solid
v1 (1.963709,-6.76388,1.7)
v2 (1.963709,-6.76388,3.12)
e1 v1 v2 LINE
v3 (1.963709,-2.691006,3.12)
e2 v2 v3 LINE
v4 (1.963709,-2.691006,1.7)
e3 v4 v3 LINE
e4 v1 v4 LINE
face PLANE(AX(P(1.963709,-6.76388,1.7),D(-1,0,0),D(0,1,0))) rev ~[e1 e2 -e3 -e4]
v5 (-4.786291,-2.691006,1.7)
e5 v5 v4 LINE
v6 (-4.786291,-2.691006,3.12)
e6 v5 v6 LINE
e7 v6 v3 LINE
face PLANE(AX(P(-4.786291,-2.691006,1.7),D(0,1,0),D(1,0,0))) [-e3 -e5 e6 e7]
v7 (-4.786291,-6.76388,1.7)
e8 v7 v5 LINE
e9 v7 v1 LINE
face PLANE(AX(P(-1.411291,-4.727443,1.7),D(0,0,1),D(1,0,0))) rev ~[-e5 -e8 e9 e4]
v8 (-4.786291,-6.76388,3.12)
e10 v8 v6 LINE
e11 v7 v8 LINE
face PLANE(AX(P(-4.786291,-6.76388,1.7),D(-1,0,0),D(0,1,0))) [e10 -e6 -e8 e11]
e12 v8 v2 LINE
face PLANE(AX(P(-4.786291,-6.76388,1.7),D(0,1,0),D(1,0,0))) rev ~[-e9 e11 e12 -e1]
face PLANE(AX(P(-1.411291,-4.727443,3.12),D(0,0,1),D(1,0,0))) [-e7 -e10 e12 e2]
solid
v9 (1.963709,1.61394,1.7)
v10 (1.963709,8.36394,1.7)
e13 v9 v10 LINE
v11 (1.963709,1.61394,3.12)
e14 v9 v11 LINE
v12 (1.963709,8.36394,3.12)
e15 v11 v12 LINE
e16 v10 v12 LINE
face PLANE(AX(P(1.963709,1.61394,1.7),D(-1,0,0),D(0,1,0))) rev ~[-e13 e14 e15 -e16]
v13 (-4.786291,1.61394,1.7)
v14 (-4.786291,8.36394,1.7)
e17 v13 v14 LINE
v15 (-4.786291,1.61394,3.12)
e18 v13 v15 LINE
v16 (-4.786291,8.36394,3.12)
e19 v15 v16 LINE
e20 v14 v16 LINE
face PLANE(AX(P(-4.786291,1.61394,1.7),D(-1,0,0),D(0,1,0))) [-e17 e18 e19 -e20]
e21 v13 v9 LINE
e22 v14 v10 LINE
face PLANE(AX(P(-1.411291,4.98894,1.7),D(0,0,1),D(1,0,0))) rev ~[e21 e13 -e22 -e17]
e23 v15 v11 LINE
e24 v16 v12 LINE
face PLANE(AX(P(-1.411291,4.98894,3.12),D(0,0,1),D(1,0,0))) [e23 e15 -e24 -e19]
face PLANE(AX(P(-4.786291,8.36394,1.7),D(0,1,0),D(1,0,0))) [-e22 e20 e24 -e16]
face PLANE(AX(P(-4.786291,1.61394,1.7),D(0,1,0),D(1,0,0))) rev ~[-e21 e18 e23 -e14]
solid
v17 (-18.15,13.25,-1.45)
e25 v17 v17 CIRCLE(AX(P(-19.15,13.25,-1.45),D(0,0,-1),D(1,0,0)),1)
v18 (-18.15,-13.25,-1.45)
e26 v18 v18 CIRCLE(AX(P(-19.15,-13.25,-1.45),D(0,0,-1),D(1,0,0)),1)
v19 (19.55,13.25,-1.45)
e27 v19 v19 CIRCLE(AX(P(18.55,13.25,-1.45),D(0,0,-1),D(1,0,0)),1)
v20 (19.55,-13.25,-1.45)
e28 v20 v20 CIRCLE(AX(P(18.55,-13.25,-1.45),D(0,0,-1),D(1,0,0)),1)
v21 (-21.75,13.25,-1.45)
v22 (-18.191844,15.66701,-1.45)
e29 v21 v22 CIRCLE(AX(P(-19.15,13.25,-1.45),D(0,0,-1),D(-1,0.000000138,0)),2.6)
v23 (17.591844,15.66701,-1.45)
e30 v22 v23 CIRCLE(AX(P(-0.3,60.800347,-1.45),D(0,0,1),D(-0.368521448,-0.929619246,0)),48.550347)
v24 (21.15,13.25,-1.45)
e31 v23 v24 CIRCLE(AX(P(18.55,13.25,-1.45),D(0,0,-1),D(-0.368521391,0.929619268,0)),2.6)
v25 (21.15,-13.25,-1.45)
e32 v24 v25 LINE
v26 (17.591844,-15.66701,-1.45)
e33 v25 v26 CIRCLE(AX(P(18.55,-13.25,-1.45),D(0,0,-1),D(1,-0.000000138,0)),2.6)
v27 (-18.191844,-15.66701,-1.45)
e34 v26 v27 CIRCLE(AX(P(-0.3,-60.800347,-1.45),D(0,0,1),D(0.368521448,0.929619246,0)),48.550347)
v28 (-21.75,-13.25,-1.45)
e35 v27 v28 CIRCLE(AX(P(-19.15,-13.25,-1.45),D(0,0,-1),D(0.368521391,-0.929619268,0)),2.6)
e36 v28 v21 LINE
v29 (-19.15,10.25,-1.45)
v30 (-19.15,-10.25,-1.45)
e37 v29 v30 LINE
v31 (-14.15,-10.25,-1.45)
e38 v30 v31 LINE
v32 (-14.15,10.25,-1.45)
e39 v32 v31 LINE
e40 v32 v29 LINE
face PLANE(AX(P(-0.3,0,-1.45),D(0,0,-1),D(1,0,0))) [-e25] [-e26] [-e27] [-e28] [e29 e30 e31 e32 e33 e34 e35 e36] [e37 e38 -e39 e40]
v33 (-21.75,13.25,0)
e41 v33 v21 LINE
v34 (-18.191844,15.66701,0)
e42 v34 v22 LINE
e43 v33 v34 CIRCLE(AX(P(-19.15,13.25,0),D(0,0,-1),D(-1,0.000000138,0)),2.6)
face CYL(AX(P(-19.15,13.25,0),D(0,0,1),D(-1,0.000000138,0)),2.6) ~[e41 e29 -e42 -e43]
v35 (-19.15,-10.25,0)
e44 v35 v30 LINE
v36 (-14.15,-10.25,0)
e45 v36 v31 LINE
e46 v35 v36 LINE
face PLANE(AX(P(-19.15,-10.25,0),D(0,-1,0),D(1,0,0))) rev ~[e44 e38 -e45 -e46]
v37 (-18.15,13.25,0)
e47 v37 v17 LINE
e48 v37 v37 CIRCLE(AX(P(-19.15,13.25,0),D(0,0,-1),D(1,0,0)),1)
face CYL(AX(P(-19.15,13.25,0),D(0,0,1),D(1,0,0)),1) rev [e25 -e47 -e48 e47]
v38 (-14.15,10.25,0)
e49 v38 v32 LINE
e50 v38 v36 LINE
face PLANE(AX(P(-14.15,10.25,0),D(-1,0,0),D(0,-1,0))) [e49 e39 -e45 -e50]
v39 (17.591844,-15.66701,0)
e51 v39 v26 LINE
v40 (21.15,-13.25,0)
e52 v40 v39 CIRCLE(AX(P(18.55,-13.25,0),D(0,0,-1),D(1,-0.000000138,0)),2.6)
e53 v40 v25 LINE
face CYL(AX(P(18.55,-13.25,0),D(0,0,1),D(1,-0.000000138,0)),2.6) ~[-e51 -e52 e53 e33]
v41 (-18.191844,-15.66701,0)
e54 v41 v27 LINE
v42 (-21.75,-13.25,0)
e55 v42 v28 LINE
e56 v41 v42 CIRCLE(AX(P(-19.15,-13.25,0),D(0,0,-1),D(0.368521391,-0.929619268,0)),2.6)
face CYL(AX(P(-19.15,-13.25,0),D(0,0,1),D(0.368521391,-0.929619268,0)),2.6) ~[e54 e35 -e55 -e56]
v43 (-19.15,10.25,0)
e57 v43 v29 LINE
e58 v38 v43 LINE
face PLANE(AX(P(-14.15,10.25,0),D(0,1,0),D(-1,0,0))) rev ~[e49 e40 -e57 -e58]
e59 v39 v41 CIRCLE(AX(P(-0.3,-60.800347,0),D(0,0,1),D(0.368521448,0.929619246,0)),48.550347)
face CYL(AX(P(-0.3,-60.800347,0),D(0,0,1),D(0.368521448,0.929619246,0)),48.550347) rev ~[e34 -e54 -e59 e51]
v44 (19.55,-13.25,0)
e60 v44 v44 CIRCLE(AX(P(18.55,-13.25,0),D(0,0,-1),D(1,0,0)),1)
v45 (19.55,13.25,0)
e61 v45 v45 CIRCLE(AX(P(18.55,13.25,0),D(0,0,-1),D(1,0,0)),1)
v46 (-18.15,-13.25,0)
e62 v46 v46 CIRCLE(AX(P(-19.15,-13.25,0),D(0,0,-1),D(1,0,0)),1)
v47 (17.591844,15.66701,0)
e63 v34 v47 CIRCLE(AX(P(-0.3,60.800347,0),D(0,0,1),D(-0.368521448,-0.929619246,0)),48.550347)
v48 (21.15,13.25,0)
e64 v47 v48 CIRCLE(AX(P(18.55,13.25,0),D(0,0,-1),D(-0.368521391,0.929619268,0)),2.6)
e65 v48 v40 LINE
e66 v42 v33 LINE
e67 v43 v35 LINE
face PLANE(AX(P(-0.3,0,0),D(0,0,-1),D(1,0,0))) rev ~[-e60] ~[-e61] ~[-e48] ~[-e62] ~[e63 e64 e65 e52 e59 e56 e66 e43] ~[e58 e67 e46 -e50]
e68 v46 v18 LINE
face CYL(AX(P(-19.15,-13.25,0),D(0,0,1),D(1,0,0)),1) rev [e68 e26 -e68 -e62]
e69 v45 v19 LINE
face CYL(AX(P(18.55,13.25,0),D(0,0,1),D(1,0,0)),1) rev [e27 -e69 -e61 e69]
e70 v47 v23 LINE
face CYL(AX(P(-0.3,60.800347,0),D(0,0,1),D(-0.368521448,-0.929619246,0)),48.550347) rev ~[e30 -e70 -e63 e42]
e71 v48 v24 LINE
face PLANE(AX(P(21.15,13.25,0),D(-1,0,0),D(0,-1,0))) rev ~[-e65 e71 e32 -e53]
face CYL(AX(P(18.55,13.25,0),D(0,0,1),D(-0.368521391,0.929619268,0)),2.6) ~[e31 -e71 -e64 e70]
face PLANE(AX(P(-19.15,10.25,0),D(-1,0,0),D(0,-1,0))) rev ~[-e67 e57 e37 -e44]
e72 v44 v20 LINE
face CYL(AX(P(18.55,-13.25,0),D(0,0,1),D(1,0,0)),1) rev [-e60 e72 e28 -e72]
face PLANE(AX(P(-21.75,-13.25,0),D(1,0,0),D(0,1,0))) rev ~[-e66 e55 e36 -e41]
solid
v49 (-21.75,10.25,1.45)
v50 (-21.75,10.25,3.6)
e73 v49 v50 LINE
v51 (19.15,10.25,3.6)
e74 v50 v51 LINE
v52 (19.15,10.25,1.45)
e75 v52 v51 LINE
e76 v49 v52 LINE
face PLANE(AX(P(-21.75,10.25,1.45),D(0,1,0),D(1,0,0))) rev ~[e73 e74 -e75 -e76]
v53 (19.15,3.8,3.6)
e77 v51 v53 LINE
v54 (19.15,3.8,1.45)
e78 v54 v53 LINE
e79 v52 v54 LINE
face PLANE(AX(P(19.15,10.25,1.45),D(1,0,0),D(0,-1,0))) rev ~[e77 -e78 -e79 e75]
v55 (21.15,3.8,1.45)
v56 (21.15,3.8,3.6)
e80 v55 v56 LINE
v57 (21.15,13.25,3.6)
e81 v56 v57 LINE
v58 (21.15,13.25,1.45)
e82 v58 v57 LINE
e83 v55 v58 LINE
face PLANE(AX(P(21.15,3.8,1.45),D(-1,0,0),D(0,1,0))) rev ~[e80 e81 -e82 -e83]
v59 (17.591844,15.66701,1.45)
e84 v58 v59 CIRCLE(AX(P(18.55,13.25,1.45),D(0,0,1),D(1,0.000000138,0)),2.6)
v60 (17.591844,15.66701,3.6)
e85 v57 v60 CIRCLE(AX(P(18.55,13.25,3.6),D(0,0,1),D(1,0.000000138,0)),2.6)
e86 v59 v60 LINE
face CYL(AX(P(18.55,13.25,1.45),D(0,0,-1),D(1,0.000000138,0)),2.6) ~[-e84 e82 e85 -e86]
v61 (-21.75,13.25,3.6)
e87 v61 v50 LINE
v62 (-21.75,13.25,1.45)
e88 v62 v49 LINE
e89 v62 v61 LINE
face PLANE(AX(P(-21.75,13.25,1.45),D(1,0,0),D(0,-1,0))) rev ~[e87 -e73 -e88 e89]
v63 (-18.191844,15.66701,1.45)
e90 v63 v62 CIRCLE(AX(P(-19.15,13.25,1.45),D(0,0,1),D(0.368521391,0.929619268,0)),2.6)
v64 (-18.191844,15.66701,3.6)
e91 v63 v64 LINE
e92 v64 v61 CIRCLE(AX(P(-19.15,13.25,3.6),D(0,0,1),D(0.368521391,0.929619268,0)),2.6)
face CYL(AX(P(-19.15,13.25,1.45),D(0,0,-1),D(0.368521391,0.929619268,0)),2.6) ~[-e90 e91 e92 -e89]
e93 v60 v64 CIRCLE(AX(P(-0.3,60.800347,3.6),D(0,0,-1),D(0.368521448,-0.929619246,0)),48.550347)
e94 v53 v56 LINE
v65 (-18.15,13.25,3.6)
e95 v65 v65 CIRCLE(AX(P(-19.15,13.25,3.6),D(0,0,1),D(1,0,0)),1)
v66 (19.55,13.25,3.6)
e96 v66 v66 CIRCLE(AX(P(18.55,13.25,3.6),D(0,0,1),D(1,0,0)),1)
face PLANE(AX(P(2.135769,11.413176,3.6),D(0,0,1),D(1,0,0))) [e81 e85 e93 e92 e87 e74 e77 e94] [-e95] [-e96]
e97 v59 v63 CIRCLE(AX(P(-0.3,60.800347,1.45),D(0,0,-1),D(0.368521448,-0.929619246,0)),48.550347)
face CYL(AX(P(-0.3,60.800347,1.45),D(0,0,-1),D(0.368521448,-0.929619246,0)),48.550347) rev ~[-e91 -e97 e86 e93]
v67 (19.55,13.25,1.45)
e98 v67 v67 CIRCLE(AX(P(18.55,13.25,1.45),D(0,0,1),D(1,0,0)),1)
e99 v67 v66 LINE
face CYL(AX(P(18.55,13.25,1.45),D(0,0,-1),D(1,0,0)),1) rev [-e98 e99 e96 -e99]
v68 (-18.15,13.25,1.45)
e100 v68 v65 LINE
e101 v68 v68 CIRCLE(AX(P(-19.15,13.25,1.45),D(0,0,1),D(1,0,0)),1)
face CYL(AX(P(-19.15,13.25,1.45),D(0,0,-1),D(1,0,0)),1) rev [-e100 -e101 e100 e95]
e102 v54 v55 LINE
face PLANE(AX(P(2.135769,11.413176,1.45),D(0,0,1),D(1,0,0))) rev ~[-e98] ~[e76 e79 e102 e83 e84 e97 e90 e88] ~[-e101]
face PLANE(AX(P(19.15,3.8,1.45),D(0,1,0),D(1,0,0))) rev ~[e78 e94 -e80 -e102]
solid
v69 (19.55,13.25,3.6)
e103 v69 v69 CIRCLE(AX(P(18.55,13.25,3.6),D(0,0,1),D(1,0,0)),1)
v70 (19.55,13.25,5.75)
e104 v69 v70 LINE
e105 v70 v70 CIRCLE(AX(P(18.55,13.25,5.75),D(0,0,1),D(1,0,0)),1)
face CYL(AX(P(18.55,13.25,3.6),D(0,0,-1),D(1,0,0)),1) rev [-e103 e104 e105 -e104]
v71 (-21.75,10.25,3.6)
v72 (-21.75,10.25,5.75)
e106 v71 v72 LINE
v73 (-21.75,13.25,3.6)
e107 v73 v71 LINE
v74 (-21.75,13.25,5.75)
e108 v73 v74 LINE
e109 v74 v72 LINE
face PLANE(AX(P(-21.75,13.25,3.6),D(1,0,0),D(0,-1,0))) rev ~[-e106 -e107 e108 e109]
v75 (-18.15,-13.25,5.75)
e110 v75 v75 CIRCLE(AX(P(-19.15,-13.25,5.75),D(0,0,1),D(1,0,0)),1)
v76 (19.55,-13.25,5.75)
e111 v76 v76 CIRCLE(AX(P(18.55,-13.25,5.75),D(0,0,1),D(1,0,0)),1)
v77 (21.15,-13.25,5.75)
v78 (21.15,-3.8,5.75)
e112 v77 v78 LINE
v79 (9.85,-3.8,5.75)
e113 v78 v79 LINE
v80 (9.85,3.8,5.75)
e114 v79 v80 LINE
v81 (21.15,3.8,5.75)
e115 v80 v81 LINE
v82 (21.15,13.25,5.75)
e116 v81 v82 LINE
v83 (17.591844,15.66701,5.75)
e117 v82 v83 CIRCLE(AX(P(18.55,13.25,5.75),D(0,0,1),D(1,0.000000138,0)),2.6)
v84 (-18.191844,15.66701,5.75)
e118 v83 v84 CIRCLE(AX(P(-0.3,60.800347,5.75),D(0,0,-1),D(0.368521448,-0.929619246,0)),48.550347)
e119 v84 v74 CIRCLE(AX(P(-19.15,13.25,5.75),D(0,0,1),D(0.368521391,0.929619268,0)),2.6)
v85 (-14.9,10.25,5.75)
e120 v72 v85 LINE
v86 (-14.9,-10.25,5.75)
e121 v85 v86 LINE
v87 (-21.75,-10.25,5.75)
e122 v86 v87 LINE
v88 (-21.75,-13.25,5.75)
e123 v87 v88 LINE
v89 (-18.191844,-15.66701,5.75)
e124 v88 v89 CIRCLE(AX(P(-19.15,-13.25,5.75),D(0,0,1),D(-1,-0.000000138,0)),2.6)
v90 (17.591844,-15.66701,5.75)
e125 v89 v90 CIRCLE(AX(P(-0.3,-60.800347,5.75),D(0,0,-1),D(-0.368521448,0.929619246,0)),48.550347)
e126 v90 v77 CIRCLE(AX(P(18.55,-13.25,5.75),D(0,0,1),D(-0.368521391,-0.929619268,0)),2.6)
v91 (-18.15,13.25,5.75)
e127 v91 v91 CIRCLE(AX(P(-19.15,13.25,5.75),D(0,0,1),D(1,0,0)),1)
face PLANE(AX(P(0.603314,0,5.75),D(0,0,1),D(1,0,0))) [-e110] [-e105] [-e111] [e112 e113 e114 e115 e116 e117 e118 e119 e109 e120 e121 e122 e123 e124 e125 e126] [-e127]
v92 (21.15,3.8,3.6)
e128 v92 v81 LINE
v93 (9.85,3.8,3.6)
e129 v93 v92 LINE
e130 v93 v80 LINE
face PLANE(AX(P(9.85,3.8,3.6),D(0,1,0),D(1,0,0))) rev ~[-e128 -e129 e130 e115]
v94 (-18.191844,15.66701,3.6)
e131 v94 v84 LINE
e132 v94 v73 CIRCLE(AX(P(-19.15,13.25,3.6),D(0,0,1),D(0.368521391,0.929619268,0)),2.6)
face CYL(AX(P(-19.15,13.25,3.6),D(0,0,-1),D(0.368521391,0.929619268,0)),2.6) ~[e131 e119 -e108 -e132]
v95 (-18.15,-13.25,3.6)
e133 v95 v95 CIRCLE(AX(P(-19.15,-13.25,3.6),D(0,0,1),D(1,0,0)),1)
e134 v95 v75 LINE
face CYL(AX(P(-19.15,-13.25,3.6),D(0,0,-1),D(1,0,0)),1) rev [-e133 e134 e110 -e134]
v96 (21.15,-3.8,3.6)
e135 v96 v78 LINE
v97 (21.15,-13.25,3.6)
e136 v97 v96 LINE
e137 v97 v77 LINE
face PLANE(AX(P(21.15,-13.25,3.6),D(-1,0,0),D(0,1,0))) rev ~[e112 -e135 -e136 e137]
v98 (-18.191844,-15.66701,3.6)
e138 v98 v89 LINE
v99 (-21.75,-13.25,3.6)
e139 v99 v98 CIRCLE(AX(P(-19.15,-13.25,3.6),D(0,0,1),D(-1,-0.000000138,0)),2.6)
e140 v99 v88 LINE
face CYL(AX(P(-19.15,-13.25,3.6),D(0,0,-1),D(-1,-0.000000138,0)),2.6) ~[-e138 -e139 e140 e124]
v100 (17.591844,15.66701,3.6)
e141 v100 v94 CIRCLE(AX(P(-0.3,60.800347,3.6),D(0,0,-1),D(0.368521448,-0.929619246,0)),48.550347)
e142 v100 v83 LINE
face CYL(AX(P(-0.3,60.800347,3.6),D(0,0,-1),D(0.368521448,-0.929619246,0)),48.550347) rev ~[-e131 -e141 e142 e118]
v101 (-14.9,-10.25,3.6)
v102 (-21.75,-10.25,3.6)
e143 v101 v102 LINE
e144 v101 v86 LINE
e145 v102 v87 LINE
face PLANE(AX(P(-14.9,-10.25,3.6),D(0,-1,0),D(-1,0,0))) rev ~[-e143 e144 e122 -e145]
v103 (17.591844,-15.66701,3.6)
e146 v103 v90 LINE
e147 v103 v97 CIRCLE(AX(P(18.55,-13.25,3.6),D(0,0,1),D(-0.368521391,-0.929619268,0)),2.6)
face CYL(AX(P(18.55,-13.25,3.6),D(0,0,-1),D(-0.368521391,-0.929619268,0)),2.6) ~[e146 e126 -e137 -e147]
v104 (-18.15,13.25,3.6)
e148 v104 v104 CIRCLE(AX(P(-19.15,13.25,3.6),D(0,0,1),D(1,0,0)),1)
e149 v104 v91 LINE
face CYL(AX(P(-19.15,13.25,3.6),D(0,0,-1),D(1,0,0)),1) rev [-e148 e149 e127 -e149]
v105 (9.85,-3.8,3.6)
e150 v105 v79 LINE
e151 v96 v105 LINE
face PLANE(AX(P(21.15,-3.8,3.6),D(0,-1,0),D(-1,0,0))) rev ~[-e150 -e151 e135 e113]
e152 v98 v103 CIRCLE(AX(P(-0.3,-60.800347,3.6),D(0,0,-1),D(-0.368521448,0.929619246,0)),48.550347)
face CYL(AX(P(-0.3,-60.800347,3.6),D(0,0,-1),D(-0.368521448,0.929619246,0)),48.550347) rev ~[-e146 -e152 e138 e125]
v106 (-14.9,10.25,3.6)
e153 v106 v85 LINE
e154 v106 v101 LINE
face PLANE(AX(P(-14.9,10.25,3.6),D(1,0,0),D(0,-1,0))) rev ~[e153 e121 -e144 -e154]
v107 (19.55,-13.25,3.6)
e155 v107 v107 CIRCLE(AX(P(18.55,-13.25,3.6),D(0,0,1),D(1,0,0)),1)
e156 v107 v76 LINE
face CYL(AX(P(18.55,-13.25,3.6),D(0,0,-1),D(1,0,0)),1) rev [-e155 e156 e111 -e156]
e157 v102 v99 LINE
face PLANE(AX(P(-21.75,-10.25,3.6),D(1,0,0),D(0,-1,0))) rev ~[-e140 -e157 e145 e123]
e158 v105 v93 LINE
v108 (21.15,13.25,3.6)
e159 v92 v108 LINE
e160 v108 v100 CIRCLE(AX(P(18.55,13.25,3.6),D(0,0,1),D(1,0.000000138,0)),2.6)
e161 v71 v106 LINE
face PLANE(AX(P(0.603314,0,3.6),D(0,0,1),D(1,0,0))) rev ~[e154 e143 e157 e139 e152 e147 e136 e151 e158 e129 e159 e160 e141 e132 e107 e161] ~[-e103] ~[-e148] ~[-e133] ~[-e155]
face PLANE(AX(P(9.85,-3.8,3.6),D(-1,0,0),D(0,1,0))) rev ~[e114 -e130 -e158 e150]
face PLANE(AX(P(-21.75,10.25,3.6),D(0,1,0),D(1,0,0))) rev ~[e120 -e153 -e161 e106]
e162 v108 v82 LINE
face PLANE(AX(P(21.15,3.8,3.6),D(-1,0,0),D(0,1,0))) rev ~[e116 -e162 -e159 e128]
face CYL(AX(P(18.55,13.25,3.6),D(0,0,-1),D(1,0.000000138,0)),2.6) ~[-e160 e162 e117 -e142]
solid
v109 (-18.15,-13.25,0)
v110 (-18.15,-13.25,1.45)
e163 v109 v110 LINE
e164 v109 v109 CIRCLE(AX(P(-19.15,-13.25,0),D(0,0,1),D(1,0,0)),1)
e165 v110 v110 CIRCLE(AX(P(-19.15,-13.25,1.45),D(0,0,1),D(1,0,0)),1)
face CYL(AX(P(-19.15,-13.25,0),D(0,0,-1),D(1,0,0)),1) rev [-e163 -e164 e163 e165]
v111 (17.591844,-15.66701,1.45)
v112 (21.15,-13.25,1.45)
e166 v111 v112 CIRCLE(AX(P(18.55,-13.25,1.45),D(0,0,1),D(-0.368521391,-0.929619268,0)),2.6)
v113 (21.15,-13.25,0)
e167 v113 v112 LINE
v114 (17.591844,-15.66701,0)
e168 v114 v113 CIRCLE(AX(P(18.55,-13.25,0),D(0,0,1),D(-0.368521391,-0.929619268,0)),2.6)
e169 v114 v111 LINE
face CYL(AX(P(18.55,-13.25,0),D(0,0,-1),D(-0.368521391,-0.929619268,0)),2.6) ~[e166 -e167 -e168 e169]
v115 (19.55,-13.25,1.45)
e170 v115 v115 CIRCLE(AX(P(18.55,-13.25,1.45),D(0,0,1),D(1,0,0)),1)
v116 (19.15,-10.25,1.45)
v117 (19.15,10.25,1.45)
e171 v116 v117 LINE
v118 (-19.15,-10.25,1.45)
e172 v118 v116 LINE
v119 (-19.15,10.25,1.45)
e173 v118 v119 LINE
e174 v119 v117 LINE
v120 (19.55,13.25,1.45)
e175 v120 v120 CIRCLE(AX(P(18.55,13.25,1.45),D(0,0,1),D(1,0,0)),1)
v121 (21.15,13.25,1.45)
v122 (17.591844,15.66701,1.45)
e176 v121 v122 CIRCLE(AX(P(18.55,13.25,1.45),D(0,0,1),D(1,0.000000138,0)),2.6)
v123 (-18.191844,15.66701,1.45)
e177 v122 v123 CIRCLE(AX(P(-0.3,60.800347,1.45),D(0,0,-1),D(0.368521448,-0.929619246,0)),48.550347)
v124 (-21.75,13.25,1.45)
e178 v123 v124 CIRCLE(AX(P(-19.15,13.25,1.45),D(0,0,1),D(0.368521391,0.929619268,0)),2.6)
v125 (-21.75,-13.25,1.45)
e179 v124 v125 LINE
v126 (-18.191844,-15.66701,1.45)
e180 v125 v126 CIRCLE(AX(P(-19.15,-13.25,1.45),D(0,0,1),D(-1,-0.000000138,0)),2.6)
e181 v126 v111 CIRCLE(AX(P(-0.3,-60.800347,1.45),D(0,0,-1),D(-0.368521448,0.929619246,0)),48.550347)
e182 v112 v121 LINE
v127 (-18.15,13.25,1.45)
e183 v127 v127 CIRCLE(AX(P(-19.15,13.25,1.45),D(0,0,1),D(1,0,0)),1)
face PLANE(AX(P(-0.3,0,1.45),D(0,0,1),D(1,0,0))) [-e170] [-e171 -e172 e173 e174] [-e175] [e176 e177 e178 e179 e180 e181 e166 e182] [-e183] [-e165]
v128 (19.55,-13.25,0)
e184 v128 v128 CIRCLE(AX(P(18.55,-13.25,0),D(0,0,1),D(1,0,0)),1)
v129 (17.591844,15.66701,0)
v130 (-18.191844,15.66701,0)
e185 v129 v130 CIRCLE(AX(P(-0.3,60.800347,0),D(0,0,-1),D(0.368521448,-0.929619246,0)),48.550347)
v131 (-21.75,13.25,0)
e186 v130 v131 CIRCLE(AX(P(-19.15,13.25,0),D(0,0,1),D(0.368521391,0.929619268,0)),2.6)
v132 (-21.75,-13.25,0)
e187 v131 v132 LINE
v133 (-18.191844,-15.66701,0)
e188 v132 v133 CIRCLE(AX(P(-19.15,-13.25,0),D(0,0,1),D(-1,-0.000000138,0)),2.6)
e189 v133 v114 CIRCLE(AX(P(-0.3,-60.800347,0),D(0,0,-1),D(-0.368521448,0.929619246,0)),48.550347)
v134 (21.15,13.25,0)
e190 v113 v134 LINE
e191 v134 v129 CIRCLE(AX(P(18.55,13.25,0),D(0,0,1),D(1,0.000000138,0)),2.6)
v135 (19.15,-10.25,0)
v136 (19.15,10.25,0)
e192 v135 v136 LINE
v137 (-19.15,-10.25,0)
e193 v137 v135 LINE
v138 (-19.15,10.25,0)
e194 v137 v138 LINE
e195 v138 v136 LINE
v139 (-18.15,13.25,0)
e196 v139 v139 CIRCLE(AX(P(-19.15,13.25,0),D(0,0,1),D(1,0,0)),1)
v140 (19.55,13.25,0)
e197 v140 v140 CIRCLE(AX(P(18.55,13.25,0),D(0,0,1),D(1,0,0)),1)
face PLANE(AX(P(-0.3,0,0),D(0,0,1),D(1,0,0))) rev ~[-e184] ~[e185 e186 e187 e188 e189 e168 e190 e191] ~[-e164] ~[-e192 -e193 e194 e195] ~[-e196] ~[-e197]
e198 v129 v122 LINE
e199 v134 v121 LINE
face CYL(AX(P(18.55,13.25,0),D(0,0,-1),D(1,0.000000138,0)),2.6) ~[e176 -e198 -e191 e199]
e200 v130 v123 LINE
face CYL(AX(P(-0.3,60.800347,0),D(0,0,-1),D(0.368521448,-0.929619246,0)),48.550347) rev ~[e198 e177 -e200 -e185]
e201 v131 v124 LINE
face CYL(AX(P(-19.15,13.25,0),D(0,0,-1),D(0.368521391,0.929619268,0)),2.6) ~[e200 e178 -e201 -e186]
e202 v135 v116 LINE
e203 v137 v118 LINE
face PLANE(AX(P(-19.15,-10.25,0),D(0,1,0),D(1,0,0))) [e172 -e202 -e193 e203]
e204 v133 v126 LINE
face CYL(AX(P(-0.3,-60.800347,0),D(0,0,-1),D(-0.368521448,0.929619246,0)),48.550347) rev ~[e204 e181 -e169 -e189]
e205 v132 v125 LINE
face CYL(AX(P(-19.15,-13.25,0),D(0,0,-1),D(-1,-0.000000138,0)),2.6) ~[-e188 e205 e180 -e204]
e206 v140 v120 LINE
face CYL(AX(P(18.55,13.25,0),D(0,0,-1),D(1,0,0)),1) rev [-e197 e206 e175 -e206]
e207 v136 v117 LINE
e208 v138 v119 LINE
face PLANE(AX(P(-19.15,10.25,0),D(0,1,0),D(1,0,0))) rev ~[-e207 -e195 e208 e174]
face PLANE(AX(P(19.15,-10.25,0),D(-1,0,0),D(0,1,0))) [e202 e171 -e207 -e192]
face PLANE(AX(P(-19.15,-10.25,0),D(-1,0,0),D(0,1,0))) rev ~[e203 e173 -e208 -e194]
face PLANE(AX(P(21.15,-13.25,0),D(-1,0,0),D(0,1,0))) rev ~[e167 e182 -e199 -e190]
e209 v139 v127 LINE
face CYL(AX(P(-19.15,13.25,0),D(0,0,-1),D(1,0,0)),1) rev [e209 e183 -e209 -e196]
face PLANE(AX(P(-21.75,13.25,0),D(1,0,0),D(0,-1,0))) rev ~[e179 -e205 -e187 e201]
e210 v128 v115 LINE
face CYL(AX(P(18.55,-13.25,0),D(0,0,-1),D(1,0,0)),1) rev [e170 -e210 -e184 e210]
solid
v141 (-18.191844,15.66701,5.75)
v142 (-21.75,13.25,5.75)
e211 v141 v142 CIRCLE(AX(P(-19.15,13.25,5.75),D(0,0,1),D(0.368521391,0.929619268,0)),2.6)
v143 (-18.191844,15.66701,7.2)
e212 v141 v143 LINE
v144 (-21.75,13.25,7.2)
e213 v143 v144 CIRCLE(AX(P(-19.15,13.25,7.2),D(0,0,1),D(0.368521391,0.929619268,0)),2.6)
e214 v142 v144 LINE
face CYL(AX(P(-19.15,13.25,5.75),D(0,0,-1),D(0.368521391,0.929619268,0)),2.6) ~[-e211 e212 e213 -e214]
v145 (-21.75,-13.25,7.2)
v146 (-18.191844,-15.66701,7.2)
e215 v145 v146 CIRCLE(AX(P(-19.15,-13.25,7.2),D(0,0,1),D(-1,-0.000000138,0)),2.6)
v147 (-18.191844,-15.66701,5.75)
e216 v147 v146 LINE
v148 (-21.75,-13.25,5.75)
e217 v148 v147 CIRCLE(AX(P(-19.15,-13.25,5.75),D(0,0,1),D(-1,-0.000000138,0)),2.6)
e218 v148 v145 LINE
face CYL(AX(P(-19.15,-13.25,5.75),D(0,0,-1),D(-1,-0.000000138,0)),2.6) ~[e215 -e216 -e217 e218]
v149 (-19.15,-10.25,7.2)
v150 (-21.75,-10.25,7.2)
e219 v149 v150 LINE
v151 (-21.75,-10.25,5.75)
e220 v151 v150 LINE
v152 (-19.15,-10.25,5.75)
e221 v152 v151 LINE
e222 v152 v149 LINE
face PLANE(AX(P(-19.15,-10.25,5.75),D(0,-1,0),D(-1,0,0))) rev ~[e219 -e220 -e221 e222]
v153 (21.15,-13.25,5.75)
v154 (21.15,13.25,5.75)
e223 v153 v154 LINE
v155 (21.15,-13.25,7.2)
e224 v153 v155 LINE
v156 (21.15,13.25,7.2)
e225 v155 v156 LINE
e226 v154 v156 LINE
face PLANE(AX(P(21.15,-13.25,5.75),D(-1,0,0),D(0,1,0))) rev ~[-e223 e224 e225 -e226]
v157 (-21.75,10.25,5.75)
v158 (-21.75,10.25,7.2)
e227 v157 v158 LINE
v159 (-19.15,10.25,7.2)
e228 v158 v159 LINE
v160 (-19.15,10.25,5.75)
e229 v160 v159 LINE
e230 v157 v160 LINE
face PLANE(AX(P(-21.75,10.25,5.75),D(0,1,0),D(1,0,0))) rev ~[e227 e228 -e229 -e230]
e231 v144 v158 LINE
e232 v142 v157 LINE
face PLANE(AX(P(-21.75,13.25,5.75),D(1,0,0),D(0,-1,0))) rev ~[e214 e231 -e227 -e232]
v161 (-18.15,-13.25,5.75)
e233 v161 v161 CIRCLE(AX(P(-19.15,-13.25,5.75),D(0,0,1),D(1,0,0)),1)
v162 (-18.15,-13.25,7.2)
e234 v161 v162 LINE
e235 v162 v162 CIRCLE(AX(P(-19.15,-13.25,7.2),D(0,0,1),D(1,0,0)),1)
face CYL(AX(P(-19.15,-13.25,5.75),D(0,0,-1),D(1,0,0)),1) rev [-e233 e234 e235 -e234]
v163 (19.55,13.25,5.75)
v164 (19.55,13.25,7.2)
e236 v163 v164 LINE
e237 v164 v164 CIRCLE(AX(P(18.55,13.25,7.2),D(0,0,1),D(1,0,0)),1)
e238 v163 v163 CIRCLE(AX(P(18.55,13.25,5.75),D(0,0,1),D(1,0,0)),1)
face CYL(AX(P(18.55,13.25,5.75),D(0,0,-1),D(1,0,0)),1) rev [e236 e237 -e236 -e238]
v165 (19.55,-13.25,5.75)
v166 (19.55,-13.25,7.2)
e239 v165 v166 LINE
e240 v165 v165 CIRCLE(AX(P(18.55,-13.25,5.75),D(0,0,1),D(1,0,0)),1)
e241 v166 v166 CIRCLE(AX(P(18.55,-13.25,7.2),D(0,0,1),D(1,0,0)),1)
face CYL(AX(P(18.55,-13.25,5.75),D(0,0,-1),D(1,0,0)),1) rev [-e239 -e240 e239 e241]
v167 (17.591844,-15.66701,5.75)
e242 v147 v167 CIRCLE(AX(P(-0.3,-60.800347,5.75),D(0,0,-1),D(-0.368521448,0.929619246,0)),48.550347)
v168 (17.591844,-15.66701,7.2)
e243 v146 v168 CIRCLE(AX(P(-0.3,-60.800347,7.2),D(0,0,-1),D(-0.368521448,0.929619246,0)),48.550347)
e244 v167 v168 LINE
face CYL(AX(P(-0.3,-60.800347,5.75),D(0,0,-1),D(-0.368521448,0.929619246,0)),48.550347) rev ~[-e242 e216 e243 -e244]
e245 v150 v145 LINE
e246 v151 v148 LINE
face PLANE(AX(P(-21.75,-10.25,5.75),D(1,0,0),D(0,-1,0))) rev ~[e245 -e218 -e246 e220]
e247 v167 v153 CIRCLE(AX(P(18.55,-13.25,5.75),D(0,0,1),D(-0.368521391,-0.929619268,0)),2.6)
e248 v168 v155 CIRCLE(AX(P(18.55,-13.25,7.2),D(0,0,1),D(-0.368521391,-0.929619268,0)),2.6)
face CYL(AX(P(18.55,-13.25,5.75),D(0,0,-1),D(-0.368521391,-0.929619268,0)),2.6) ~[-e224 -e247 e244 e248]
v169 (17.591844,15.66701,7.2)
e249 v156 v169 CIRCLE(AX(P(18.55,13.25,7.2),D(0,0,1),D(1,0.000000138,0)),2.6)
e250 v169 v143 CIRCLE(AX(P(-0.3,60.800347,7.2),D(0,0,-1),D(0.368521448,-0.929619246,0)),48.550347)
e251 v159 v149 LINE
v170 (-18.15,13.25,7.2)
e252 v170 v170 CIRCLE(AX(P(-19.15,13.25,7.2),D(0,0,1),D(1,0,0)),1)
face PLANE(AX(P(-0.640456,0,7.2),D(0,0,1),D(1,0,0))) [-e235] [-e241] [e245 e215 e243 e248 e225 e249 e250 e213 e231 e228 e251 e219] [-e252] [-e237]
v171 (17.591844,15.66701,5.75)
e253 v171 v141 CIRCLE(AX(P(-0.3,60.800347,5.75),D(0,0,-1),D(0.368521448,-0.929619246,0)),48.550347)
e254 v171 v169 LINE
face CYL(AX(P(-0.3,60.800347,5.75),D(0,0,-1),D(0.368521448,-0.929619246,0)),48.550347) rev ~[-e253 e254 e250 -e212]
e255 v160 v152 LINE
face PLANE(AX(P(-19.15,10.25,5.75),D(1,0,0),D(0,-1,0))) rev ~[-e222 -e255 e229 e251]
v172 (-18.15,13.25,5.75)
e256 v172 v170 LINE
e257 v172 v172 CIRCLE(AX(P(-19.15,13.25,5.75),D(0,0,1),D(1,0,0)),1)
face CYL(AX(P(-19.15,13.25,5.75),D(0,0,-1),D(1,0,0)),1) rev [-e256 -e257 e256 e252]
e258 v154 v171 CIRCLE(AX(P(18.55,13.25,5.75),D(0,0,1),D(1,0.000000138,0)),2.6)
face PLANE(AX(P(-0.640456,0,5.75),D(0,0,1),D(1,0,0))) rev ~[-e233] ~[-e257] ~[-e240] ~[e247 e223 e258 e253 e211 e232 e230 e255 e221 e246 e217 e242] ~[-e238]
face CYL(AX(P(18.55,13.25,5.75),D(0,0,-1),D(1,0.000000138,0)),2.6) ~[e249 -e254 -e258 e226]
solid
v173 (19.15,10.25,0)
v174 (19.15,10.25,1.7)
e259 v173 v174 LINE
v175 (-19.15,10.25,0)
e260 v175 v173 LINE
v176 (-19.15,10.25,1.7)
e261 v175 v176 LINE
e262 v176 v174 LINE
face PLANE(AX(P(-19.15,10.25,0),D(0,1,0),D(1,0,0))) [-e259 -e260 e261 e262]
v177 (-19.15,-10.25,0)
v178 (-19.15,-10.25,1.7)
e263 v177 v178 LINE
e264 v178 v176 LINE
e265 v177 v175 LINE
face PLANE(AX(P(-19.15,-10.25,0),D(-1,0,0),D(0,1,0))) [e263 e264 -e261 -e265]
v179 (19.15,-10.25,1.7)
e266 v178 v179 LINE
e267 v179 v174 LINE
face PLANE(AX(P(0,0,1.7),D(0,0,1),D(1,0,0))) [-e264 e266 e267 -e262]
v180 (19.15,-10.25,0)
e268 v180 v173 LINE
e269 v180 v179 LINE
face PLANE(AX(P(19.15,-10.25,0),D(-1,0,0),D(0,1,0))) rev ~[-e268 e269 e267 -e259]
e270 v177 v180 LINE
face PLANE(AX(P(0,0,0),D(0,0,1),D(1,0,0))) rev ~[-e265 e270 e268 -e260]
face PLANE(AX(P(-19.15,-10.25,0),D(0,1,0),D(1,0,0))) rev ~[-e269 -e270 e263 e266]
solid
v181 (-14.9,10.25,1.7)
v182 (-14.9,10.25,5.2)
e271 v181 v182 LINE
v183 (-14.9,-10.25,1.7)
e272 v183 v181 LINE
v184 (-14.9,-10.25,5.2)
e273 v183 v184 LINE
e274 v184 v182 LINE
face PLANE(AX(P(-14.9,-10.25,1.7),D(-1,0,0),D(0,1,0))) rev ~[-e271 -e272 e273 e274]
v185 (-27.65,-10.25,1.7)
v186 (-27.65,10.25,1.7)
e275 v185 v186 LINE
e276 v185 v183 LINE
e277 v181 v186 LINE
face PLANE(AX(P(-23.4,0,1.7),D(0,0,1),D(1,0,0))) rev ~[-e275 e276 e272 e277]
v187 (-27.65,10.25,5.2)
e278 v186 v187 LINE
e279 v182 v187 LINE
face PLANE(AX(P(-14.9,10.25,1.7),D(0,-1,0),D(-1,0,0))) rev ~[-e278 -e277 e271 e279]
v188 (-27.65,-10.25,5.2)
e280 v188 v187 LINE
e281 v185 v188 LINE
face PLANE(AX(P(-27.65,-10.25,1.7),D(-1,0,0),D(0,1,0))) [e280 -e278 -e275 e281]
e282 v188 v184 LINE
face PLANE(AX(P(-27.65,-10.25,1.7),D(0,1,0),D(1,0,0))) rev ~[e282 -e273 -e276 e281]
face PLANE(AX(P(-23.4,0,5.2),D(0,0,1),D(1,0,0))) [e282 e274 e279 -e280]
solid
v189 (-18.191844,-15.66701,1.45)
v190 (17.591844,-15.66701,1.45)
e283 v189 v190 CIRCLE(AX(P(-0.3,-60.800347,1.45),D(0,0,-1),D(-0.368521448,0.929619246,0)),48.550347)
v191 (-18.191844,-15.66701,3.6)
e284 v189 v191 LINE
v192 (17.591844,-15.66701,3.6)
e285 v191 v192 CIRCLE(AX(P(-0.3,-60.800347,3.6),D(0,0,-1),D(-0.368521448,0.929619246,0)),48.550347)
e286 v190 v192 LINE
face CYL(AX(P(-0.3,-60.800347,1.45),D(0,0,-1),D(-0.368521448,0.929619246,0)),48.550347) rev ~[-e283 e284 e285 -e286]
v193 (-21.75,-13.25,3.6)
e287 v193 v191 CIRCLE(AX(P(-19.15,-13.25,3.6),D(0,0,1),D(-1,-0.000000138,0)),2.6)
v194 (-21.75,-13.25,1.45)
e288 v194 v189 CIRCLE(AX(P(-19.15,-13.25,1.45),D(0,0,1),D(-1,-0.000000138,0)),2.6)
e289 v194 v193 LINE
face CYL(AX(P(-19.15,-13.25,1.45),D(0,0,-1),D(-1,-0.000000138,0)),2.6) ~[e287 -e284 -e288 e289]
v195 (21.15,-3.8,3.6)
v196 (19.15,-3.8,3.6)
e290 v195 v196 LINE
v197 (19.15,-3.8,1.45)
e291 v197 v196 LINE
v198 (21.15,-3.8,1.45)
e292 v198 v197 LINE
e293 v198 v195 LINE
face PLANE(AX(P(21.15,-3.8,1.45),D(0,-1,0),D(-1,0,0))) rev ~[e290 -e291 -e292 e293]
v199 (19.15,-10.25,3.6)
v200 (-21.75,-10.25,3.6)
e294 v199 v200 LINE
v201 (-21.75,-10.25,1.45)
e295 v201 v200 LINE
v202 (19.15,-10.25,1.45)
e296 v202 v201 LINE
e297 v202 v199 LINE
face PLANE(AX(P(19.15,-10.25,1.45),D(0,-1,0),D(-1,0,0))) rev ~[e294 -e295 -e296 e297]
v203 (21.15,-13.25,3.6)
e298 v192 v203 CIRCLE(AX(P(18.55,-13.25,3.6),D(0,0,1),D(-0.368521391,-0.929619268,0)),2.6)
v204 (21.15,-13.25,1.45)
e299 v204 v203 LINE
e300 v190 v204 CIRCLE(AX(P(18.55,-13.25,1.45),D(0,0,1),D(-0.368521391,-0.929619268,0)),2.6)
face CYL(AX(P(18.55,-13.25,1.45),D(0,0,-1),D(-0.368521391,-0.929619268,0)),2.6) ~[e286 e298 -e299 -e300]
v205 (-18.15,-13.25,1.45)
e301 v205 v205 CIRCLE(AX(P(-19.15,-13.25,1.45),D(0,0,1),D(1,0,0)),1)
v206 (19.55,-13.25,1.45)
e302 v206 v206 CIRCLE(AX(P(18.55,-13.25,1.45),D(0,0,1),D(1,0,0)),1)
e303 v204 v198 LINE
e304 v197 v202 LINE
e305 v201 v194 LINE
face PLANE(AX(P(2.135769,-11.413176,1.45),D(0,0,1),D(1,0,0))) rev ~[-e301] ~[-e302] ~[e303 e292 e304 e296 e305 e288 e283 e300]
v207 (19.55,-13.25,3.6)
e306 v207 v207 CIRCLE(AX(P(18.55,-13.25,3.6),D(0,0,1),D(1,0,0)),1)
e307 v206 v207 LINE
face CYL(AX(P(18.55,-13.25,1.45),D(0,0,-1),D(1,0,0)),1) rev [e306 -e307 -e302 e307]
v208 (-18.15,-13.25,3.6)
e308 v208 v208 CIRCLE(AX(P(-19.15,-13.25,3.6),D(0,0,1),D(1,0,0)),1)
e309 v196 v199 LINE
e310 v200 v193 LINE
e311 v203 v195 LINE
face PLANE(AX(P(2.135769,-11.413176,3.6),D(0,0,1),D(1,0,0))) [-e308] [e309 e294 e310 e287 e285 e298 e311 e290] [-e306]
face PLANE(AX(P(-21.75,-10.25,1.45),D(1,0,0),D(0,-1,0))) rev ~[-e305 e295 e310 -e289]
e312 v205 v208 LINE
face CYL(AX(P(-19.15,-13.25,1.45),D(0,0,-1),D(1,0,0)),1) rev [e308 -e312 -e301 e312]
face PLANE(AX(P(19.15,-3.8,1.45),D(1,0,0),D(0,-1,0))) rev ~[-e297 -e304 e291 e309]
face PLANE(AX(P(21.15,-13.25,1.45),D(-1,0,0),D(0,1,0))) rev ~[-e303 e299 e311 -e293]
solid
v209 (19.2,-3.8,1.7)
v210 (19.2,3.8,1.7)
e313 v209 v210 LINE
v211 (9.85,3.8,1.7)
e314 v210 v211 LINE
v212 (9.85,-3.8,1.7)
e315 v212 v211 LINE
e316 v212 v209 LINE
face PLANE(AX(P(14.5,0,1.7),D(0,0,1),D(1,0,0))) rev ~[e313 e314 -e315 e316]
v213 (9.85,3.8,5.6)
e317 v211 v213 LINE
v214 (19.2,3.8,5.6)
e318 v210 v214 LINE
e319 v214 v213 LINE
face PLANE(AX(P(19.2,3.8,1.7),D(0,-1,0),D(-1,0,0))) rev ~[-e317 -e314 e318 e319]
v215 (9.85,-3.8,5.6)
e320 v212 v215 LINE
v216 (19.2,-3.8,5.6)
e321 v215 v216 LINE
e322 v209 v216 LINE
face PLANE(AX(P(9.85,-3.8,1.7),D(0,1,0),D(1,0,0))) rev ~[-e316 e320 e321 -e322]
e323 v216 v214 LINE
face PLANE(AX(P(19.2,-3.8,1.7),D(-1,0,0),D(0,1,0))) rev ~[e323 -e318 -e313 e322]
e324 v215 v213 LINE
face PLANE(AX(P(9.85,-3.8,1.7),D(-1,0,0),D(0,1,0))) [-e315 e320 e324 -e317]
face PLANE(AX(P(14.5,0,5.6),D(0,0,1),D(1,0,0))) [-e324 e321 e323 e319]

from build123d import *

# Parameters (mm, degrees)
F0_W      = 38.3
F0_H      = 20.5
F1_DEPTH  = 1.7
F2_W      = 9.3
F2_H      = 7.6
F2_W_2    = 0.05
F3_DEPTH  = 3.9
F2_W_3    = 6.75
F2_H_2    = 6.75
F2_H_3    = 4.072874
F4_DEPTH  = 1.42
F2_W_4    = 8.5
F2_H_4    = 20.5
F2_W_5    = 4.25
F5_DEPTH  = 3.5
F6_R      = 1
F6_W      = 38.3
F6_H      = 20.5
F7_DEPTH  = 1.45
F8_R      = 1
F9_DEPTH  = 2.15
F10_R     = 1
F11_DEPTH = 2.15
F12_R     = 1
F12_W     = 33.3
F12_H     = 20.5
F13_DEPTH = 1.45
F14_R     = 1
F15_DEPTH = 1.45


with BuildPart() as f1:
    # F0 (on Top) → F1 (new body)
    with BuildSketch(Plane.XY):
        Rectangle(F0_W, F0_H)
    extrude(amount=F1_DEPTH)


with BuildPart() as f3:
    # F2 (on face) → F3 (new body)
    with BuildSketch(Plane.XY.offset(1.7)):
        with Locations((14.5, 0)):
            Rectangle(F2_W, F2_H)
        with Locations((19.175, 0)):
            Rectangle(F2_W_2, F2_H)
    extrude(amount=F3_DEPTH)


with BuildPart() as f4:
    # F2 (on face) → F4 (new body)
    with BuildSketch(Plane.XY.offset(1.7)):
        with Locations((-1.411291, 4.98894)):
            Rectangle(F2_W_3, F2_H_2)
        with Locations((-1.411291, -4.727443)):
            Rectangle(F2_W_3, F2_H_3)
    extrude(amount=F4_DEPTH)


with BuildPart() as f5:
    # F2 (on face) → F5 (new body)
    with BuildSketch(Plane.XY.offset(1.7)):
        with Locations((-23.4, 0)):
            Rectangle(F2_W_4, F2_H_4)
        with Locations((-17.025, 0)):
            Rectangle(F2_W_5, F2_H_4)
    extrude(amount=F5_DEPTH)


with BuildPart() as f7:
    # F6 (on Top) → F7 (new body)
    with BuildSketch(Plane.XY):
        with BuildLine():
            ThreePointArc((-18.191844, 15.66701), (-20.610958, 15.400721), (-21.75, 13.25))
            Line((-21.75, 13.25), (-21.75, -13.25))
            ThreePointArc((-21.75, -13.25), (-20.610958, -15.400721), (-18.191844, -15.66701))
            ThreePointArc((-18.191844, -15.66701), (-0.3, -12.25), (17.591844, -15.66701))
            ThreePointArc((17.591844, -15.66701), (20.010958, -15.400721), (21.15, -13.25))
            Line((21.15, -13.25), (21.15, 13.25))
            ThreePointArc((21.15, 13.25), (20.010958, 15.400721), (17.591844, 15.66701))
            ThreePointArc((17.591844, 15.66701), (-0.3, 12.25), (-18.191844, 15.66701))
        make_face()
        with Locations((-19.15, -13.25)):
            Circle(F6_R, mode=Mode.SUBTRACT)
        with Locations((18.55, -13.25)):
            Circle(F6_R, mode=Mode.SUBTRACT)
        Rectangle(F6_W, F6_H, mode=Mode.SUBTRACT)
        with Locations((-19.15, 13.25)):
            Circle(F6_R, mode=Mode.SUBTRACT)
        with Locations((18.55, 13.25)):
            Circle(F6_R, mode=Mode.SUBTRACT)
    extrude(amount=F7_DEPTH)


with BuildPart() as f9:
    # F8 (on face) → F9 (new body)
    with BuildSketch(Plane.XY.offset(1.45)):
        with BuildLine():
            Line((-19.15, -10.25), (-21.75, -10.25))
            Line((-21.75, -10.25), (-21.75, -13.25))
            ThreePointArc((-21.75, -13.25), (-20.610958, -15.400721), (-18.191844, -15.66701))
            ThreePointArc((-18.191844, -15.66701), (-0.3, -12.25), (17.591844, -15.66701))
            ThreePointArc((17.591844, -15.66701), (20.010958, -15.400721), (21.15, -13.25))
            Line((21.15, -13.25), (21.15, -3.8))
            Line((21.15, -3.8), (19.15, -3.8))
            Line((19.15, -3.8), (19.15, -10.25))
            Line((19.15, -10.25), (-19.15, -10.25))
        make_face()
        with Locations((-19.15, -13.25)):
            Circle(F8_R, mode=Mode.SUBTRACT)
        with Locations((18.55, -13.25)):
            Circle(F8_R, mode=Mode.SUBTRACT)
        with BuildLine():
            ThreePointArc((17.591844, 15.66701), (-0.3, 12.25), (-18.191844, 15.66701))
            ThreePointArc((-18.191844, 15.66701), (-20.610958, 15.400721), (-21.75, 13.25))
            Line((-21.75, 13.25), (-21.75, 10.25))
            Line((-21.75, 10.25), (-19.15, 10.25))
            Line((-19.15, 10.25), (19.15, 10.25))
            Line((19.15, 10.25), (19.15, 3.8))
            Line((19.15, 3.8), (21.15, 3.8))
            Line((21.15, 3.8), (21.15, 13.25))
            ThreePointArc((21.15, 13.25), (20.010958, 15.400721), (17.591844, 15.66701))
        make_face()
        with Locations((-19.15, 13.25)):
            Circle(F8_R, mode=Mode.SUBTRACT)
        with Locations((18.55, 13.25)):
            Circle(F8_R, mode=Mode.SUBTRACT)
    extrude(amount=F9_DEPTH)


with BuildPart() as f11:
    # F10 (on face) → F11 (new body)
    with BuildSketch(Plane.XY.offset(3.6)):
        with BuildLine():
            ThreePointArc((17.591844, 15.66701), (-0.3, 12.25), (-18.191844, 15.66701))
            ThreePointArc((-18.191844, 15.66701), (-20.610958, 15.400721), (-21.75, 13.25))
            Line((-21.75, 13.25), (-21.75, 10.25))
            Line((-21.75, 10.25), (-14.9, 10.25))
            Line((-14.9, 10.25), (-14.9, -10.25))
            Line((-14.9, -10.25), (-21.75, -10.25))
            Line((-21.75, -10.25), (-21.75, -13.25))
            ThreePointArc((-21.75, -13.25), (-20.610958, -15.400721), (-18.191844, -15.66701))
            ThreePointArc((-18.191844, -15.66701), (-0.3, -12.25), (17.591844, -15.66701))
            ThreePointArc((17.591844, -15.66701), (20.010958, -15.400721), (21.15, -13.25))
            Line((21.15, -13.25), (21.15, -3.8))
            Line((21.15, -3.8), (9.85, -3.8))
            Line((9.85, -3.8), (9.85, 3.8))
            Line((9.85, 3.8), (21.15, 3.8))
            Line((21.15, 3.8), (21.15, 13.25))
            ThreePointArc((21.15, 13.25), (20.010958, 15.400721), (17.591844, 15.66701))
        make_face()
        with Locations((-19.15, -13.25)):
            Circle(F10_R, mode=Mode.SUBTRACT)
        with Locations((18.55, -13.25)):
            Circle(F10_R, mode=Mode.SUBTRACT)
        with Locations((-19.15, 13.25)):
            Circle(F10_R, mode=Mode.SUBTRACT)
        with Locations((18.55, 13.25)):
            Circle(F10_R, mode=Mode.SUBTRACT)
    extrude(amount=F11_DEPTH)


with BuildPart() as f13:
    # F12 (on face) → F13 (new body)
    with BuildSketch(Plane(origin=(0, 0, 0), x_dir=(1, 0, 0), z_dir=(0, 0, -1))):
        with BuildLine():
            Line((-21.75, 13.25), (-21.75, -13.25))
            ThreePointArc((-21.75, -13.25), (-20.610958, -15.400721), (-18.191844, -15.66701))
            ThreePointArc((-18.191844, -15.66701), (-0.3, -12.25), (17.591844, -15.66701))
            ThreePointArc((17.591844, -15.66701), (20.010958, -15.400721), (21.15, -13.25))
            Line((21.15, -13.25), (21.15, 13.25))
            ThreePointArc((21.15, 13.25), (20.010958, 15.400721), (17.591844, 15.66701))
            ThreePointArc((17.591844, 15.66701), (-0.3, 12.25), (-18.191844, 15.66701))
            ThreePointArc((-18.191844, 15.66701), (-20.610958, 15.400721), (-21.75, 13.25))
        make_face()
        with Locations((-19.15, -13.25)):
            Circle(F12_R, mode=Mode.SUBTRACT)
        with Locations((18.55, -13.25)):
            Circle(F12_R, mode=Mode.SUBTRACT)
        with Locations((-19.15, 13.25)):
            Circle(F12_R, mode=Mode.SUBTRACT)
        Polygon((-19.15, 10.25), (-14.15, 10.25), (19.15, 10.25), (19.15, -10.25), (-14.15, -10.25), (-19.15, -10.25), align=None, mode=Mode.SUBTRACT)
        with Locations((18.55, 13.25)):
            Circle(F12_R, mode=Mode.SUBTRACT)
        with Locations((2.5, 0)):
            Rectangle(F12_W, F12_H)
    extrude(amount=F13_DEPTH)


with BuildPart() as f15:
    # F14 (on face) → F15 (new body)
    with BuildSketch(Plane.XY.offset(5.75)):
        with BuildLine():
            ThreePointArc((-18.191844, 15.66701), (-20.610958, 15.400721), (-21.75, 13.25))
            Line((-21.75, 13.25), (-21.75, 10.25))
            Line((-21.75, 10.25), (-19.15, 10.25))
            Line((-19.15, 10.25), (-19.15, -10.25))
            Line((-19.15, -10.25), (-21.75, -10.25))
            Line((-21.75, -10.25), (-21.75, -13.25))
            ThreePointArc((-21.75, -13.25), (-20.610958, -15.400721), (-18.191844, -15.66701))
            ThreePointArc((-18.191844, -15.66701), (-0.3, -12.25), (17.591844, -15.66701))
            ThreePointArc((17.591844, -15.66701), (20.010958, -15.400721), (21.15, -13.25))
            Line((21.15, -13.25), (21.15, 13.25))
            ThreePointArc((21.15, 13.25), (20.010958, 15.400721), (17.591844, 15.66701))
            ThreePointArc((17.591844, 15.66701), (-0.3, 12.25), (-18.191844, 15.66701))
        make_face()
        with Locations((-19.15, -13.25)):
            Circle(F14_R, mode=Mode.SUBTRACT)
        with Locations((18.55, -13.25)):
            Circle(F14_R, mode=Mode.SUBTRACT)
        with Locations((-19.15, 13.25)):
            Circle(F14_R, mode=Mode.SUBTRACT)
        with Locations((18.55, 13.25)):
            Circle(F14_R, mode=Mode.SUBTRACT)
    extrude(amount=F15_DEPTH)


solid = Compound([f1.part, f3.part, f4.part, f5.part, f7.part, f9.part, f11.part, f13.part, f15.part])
